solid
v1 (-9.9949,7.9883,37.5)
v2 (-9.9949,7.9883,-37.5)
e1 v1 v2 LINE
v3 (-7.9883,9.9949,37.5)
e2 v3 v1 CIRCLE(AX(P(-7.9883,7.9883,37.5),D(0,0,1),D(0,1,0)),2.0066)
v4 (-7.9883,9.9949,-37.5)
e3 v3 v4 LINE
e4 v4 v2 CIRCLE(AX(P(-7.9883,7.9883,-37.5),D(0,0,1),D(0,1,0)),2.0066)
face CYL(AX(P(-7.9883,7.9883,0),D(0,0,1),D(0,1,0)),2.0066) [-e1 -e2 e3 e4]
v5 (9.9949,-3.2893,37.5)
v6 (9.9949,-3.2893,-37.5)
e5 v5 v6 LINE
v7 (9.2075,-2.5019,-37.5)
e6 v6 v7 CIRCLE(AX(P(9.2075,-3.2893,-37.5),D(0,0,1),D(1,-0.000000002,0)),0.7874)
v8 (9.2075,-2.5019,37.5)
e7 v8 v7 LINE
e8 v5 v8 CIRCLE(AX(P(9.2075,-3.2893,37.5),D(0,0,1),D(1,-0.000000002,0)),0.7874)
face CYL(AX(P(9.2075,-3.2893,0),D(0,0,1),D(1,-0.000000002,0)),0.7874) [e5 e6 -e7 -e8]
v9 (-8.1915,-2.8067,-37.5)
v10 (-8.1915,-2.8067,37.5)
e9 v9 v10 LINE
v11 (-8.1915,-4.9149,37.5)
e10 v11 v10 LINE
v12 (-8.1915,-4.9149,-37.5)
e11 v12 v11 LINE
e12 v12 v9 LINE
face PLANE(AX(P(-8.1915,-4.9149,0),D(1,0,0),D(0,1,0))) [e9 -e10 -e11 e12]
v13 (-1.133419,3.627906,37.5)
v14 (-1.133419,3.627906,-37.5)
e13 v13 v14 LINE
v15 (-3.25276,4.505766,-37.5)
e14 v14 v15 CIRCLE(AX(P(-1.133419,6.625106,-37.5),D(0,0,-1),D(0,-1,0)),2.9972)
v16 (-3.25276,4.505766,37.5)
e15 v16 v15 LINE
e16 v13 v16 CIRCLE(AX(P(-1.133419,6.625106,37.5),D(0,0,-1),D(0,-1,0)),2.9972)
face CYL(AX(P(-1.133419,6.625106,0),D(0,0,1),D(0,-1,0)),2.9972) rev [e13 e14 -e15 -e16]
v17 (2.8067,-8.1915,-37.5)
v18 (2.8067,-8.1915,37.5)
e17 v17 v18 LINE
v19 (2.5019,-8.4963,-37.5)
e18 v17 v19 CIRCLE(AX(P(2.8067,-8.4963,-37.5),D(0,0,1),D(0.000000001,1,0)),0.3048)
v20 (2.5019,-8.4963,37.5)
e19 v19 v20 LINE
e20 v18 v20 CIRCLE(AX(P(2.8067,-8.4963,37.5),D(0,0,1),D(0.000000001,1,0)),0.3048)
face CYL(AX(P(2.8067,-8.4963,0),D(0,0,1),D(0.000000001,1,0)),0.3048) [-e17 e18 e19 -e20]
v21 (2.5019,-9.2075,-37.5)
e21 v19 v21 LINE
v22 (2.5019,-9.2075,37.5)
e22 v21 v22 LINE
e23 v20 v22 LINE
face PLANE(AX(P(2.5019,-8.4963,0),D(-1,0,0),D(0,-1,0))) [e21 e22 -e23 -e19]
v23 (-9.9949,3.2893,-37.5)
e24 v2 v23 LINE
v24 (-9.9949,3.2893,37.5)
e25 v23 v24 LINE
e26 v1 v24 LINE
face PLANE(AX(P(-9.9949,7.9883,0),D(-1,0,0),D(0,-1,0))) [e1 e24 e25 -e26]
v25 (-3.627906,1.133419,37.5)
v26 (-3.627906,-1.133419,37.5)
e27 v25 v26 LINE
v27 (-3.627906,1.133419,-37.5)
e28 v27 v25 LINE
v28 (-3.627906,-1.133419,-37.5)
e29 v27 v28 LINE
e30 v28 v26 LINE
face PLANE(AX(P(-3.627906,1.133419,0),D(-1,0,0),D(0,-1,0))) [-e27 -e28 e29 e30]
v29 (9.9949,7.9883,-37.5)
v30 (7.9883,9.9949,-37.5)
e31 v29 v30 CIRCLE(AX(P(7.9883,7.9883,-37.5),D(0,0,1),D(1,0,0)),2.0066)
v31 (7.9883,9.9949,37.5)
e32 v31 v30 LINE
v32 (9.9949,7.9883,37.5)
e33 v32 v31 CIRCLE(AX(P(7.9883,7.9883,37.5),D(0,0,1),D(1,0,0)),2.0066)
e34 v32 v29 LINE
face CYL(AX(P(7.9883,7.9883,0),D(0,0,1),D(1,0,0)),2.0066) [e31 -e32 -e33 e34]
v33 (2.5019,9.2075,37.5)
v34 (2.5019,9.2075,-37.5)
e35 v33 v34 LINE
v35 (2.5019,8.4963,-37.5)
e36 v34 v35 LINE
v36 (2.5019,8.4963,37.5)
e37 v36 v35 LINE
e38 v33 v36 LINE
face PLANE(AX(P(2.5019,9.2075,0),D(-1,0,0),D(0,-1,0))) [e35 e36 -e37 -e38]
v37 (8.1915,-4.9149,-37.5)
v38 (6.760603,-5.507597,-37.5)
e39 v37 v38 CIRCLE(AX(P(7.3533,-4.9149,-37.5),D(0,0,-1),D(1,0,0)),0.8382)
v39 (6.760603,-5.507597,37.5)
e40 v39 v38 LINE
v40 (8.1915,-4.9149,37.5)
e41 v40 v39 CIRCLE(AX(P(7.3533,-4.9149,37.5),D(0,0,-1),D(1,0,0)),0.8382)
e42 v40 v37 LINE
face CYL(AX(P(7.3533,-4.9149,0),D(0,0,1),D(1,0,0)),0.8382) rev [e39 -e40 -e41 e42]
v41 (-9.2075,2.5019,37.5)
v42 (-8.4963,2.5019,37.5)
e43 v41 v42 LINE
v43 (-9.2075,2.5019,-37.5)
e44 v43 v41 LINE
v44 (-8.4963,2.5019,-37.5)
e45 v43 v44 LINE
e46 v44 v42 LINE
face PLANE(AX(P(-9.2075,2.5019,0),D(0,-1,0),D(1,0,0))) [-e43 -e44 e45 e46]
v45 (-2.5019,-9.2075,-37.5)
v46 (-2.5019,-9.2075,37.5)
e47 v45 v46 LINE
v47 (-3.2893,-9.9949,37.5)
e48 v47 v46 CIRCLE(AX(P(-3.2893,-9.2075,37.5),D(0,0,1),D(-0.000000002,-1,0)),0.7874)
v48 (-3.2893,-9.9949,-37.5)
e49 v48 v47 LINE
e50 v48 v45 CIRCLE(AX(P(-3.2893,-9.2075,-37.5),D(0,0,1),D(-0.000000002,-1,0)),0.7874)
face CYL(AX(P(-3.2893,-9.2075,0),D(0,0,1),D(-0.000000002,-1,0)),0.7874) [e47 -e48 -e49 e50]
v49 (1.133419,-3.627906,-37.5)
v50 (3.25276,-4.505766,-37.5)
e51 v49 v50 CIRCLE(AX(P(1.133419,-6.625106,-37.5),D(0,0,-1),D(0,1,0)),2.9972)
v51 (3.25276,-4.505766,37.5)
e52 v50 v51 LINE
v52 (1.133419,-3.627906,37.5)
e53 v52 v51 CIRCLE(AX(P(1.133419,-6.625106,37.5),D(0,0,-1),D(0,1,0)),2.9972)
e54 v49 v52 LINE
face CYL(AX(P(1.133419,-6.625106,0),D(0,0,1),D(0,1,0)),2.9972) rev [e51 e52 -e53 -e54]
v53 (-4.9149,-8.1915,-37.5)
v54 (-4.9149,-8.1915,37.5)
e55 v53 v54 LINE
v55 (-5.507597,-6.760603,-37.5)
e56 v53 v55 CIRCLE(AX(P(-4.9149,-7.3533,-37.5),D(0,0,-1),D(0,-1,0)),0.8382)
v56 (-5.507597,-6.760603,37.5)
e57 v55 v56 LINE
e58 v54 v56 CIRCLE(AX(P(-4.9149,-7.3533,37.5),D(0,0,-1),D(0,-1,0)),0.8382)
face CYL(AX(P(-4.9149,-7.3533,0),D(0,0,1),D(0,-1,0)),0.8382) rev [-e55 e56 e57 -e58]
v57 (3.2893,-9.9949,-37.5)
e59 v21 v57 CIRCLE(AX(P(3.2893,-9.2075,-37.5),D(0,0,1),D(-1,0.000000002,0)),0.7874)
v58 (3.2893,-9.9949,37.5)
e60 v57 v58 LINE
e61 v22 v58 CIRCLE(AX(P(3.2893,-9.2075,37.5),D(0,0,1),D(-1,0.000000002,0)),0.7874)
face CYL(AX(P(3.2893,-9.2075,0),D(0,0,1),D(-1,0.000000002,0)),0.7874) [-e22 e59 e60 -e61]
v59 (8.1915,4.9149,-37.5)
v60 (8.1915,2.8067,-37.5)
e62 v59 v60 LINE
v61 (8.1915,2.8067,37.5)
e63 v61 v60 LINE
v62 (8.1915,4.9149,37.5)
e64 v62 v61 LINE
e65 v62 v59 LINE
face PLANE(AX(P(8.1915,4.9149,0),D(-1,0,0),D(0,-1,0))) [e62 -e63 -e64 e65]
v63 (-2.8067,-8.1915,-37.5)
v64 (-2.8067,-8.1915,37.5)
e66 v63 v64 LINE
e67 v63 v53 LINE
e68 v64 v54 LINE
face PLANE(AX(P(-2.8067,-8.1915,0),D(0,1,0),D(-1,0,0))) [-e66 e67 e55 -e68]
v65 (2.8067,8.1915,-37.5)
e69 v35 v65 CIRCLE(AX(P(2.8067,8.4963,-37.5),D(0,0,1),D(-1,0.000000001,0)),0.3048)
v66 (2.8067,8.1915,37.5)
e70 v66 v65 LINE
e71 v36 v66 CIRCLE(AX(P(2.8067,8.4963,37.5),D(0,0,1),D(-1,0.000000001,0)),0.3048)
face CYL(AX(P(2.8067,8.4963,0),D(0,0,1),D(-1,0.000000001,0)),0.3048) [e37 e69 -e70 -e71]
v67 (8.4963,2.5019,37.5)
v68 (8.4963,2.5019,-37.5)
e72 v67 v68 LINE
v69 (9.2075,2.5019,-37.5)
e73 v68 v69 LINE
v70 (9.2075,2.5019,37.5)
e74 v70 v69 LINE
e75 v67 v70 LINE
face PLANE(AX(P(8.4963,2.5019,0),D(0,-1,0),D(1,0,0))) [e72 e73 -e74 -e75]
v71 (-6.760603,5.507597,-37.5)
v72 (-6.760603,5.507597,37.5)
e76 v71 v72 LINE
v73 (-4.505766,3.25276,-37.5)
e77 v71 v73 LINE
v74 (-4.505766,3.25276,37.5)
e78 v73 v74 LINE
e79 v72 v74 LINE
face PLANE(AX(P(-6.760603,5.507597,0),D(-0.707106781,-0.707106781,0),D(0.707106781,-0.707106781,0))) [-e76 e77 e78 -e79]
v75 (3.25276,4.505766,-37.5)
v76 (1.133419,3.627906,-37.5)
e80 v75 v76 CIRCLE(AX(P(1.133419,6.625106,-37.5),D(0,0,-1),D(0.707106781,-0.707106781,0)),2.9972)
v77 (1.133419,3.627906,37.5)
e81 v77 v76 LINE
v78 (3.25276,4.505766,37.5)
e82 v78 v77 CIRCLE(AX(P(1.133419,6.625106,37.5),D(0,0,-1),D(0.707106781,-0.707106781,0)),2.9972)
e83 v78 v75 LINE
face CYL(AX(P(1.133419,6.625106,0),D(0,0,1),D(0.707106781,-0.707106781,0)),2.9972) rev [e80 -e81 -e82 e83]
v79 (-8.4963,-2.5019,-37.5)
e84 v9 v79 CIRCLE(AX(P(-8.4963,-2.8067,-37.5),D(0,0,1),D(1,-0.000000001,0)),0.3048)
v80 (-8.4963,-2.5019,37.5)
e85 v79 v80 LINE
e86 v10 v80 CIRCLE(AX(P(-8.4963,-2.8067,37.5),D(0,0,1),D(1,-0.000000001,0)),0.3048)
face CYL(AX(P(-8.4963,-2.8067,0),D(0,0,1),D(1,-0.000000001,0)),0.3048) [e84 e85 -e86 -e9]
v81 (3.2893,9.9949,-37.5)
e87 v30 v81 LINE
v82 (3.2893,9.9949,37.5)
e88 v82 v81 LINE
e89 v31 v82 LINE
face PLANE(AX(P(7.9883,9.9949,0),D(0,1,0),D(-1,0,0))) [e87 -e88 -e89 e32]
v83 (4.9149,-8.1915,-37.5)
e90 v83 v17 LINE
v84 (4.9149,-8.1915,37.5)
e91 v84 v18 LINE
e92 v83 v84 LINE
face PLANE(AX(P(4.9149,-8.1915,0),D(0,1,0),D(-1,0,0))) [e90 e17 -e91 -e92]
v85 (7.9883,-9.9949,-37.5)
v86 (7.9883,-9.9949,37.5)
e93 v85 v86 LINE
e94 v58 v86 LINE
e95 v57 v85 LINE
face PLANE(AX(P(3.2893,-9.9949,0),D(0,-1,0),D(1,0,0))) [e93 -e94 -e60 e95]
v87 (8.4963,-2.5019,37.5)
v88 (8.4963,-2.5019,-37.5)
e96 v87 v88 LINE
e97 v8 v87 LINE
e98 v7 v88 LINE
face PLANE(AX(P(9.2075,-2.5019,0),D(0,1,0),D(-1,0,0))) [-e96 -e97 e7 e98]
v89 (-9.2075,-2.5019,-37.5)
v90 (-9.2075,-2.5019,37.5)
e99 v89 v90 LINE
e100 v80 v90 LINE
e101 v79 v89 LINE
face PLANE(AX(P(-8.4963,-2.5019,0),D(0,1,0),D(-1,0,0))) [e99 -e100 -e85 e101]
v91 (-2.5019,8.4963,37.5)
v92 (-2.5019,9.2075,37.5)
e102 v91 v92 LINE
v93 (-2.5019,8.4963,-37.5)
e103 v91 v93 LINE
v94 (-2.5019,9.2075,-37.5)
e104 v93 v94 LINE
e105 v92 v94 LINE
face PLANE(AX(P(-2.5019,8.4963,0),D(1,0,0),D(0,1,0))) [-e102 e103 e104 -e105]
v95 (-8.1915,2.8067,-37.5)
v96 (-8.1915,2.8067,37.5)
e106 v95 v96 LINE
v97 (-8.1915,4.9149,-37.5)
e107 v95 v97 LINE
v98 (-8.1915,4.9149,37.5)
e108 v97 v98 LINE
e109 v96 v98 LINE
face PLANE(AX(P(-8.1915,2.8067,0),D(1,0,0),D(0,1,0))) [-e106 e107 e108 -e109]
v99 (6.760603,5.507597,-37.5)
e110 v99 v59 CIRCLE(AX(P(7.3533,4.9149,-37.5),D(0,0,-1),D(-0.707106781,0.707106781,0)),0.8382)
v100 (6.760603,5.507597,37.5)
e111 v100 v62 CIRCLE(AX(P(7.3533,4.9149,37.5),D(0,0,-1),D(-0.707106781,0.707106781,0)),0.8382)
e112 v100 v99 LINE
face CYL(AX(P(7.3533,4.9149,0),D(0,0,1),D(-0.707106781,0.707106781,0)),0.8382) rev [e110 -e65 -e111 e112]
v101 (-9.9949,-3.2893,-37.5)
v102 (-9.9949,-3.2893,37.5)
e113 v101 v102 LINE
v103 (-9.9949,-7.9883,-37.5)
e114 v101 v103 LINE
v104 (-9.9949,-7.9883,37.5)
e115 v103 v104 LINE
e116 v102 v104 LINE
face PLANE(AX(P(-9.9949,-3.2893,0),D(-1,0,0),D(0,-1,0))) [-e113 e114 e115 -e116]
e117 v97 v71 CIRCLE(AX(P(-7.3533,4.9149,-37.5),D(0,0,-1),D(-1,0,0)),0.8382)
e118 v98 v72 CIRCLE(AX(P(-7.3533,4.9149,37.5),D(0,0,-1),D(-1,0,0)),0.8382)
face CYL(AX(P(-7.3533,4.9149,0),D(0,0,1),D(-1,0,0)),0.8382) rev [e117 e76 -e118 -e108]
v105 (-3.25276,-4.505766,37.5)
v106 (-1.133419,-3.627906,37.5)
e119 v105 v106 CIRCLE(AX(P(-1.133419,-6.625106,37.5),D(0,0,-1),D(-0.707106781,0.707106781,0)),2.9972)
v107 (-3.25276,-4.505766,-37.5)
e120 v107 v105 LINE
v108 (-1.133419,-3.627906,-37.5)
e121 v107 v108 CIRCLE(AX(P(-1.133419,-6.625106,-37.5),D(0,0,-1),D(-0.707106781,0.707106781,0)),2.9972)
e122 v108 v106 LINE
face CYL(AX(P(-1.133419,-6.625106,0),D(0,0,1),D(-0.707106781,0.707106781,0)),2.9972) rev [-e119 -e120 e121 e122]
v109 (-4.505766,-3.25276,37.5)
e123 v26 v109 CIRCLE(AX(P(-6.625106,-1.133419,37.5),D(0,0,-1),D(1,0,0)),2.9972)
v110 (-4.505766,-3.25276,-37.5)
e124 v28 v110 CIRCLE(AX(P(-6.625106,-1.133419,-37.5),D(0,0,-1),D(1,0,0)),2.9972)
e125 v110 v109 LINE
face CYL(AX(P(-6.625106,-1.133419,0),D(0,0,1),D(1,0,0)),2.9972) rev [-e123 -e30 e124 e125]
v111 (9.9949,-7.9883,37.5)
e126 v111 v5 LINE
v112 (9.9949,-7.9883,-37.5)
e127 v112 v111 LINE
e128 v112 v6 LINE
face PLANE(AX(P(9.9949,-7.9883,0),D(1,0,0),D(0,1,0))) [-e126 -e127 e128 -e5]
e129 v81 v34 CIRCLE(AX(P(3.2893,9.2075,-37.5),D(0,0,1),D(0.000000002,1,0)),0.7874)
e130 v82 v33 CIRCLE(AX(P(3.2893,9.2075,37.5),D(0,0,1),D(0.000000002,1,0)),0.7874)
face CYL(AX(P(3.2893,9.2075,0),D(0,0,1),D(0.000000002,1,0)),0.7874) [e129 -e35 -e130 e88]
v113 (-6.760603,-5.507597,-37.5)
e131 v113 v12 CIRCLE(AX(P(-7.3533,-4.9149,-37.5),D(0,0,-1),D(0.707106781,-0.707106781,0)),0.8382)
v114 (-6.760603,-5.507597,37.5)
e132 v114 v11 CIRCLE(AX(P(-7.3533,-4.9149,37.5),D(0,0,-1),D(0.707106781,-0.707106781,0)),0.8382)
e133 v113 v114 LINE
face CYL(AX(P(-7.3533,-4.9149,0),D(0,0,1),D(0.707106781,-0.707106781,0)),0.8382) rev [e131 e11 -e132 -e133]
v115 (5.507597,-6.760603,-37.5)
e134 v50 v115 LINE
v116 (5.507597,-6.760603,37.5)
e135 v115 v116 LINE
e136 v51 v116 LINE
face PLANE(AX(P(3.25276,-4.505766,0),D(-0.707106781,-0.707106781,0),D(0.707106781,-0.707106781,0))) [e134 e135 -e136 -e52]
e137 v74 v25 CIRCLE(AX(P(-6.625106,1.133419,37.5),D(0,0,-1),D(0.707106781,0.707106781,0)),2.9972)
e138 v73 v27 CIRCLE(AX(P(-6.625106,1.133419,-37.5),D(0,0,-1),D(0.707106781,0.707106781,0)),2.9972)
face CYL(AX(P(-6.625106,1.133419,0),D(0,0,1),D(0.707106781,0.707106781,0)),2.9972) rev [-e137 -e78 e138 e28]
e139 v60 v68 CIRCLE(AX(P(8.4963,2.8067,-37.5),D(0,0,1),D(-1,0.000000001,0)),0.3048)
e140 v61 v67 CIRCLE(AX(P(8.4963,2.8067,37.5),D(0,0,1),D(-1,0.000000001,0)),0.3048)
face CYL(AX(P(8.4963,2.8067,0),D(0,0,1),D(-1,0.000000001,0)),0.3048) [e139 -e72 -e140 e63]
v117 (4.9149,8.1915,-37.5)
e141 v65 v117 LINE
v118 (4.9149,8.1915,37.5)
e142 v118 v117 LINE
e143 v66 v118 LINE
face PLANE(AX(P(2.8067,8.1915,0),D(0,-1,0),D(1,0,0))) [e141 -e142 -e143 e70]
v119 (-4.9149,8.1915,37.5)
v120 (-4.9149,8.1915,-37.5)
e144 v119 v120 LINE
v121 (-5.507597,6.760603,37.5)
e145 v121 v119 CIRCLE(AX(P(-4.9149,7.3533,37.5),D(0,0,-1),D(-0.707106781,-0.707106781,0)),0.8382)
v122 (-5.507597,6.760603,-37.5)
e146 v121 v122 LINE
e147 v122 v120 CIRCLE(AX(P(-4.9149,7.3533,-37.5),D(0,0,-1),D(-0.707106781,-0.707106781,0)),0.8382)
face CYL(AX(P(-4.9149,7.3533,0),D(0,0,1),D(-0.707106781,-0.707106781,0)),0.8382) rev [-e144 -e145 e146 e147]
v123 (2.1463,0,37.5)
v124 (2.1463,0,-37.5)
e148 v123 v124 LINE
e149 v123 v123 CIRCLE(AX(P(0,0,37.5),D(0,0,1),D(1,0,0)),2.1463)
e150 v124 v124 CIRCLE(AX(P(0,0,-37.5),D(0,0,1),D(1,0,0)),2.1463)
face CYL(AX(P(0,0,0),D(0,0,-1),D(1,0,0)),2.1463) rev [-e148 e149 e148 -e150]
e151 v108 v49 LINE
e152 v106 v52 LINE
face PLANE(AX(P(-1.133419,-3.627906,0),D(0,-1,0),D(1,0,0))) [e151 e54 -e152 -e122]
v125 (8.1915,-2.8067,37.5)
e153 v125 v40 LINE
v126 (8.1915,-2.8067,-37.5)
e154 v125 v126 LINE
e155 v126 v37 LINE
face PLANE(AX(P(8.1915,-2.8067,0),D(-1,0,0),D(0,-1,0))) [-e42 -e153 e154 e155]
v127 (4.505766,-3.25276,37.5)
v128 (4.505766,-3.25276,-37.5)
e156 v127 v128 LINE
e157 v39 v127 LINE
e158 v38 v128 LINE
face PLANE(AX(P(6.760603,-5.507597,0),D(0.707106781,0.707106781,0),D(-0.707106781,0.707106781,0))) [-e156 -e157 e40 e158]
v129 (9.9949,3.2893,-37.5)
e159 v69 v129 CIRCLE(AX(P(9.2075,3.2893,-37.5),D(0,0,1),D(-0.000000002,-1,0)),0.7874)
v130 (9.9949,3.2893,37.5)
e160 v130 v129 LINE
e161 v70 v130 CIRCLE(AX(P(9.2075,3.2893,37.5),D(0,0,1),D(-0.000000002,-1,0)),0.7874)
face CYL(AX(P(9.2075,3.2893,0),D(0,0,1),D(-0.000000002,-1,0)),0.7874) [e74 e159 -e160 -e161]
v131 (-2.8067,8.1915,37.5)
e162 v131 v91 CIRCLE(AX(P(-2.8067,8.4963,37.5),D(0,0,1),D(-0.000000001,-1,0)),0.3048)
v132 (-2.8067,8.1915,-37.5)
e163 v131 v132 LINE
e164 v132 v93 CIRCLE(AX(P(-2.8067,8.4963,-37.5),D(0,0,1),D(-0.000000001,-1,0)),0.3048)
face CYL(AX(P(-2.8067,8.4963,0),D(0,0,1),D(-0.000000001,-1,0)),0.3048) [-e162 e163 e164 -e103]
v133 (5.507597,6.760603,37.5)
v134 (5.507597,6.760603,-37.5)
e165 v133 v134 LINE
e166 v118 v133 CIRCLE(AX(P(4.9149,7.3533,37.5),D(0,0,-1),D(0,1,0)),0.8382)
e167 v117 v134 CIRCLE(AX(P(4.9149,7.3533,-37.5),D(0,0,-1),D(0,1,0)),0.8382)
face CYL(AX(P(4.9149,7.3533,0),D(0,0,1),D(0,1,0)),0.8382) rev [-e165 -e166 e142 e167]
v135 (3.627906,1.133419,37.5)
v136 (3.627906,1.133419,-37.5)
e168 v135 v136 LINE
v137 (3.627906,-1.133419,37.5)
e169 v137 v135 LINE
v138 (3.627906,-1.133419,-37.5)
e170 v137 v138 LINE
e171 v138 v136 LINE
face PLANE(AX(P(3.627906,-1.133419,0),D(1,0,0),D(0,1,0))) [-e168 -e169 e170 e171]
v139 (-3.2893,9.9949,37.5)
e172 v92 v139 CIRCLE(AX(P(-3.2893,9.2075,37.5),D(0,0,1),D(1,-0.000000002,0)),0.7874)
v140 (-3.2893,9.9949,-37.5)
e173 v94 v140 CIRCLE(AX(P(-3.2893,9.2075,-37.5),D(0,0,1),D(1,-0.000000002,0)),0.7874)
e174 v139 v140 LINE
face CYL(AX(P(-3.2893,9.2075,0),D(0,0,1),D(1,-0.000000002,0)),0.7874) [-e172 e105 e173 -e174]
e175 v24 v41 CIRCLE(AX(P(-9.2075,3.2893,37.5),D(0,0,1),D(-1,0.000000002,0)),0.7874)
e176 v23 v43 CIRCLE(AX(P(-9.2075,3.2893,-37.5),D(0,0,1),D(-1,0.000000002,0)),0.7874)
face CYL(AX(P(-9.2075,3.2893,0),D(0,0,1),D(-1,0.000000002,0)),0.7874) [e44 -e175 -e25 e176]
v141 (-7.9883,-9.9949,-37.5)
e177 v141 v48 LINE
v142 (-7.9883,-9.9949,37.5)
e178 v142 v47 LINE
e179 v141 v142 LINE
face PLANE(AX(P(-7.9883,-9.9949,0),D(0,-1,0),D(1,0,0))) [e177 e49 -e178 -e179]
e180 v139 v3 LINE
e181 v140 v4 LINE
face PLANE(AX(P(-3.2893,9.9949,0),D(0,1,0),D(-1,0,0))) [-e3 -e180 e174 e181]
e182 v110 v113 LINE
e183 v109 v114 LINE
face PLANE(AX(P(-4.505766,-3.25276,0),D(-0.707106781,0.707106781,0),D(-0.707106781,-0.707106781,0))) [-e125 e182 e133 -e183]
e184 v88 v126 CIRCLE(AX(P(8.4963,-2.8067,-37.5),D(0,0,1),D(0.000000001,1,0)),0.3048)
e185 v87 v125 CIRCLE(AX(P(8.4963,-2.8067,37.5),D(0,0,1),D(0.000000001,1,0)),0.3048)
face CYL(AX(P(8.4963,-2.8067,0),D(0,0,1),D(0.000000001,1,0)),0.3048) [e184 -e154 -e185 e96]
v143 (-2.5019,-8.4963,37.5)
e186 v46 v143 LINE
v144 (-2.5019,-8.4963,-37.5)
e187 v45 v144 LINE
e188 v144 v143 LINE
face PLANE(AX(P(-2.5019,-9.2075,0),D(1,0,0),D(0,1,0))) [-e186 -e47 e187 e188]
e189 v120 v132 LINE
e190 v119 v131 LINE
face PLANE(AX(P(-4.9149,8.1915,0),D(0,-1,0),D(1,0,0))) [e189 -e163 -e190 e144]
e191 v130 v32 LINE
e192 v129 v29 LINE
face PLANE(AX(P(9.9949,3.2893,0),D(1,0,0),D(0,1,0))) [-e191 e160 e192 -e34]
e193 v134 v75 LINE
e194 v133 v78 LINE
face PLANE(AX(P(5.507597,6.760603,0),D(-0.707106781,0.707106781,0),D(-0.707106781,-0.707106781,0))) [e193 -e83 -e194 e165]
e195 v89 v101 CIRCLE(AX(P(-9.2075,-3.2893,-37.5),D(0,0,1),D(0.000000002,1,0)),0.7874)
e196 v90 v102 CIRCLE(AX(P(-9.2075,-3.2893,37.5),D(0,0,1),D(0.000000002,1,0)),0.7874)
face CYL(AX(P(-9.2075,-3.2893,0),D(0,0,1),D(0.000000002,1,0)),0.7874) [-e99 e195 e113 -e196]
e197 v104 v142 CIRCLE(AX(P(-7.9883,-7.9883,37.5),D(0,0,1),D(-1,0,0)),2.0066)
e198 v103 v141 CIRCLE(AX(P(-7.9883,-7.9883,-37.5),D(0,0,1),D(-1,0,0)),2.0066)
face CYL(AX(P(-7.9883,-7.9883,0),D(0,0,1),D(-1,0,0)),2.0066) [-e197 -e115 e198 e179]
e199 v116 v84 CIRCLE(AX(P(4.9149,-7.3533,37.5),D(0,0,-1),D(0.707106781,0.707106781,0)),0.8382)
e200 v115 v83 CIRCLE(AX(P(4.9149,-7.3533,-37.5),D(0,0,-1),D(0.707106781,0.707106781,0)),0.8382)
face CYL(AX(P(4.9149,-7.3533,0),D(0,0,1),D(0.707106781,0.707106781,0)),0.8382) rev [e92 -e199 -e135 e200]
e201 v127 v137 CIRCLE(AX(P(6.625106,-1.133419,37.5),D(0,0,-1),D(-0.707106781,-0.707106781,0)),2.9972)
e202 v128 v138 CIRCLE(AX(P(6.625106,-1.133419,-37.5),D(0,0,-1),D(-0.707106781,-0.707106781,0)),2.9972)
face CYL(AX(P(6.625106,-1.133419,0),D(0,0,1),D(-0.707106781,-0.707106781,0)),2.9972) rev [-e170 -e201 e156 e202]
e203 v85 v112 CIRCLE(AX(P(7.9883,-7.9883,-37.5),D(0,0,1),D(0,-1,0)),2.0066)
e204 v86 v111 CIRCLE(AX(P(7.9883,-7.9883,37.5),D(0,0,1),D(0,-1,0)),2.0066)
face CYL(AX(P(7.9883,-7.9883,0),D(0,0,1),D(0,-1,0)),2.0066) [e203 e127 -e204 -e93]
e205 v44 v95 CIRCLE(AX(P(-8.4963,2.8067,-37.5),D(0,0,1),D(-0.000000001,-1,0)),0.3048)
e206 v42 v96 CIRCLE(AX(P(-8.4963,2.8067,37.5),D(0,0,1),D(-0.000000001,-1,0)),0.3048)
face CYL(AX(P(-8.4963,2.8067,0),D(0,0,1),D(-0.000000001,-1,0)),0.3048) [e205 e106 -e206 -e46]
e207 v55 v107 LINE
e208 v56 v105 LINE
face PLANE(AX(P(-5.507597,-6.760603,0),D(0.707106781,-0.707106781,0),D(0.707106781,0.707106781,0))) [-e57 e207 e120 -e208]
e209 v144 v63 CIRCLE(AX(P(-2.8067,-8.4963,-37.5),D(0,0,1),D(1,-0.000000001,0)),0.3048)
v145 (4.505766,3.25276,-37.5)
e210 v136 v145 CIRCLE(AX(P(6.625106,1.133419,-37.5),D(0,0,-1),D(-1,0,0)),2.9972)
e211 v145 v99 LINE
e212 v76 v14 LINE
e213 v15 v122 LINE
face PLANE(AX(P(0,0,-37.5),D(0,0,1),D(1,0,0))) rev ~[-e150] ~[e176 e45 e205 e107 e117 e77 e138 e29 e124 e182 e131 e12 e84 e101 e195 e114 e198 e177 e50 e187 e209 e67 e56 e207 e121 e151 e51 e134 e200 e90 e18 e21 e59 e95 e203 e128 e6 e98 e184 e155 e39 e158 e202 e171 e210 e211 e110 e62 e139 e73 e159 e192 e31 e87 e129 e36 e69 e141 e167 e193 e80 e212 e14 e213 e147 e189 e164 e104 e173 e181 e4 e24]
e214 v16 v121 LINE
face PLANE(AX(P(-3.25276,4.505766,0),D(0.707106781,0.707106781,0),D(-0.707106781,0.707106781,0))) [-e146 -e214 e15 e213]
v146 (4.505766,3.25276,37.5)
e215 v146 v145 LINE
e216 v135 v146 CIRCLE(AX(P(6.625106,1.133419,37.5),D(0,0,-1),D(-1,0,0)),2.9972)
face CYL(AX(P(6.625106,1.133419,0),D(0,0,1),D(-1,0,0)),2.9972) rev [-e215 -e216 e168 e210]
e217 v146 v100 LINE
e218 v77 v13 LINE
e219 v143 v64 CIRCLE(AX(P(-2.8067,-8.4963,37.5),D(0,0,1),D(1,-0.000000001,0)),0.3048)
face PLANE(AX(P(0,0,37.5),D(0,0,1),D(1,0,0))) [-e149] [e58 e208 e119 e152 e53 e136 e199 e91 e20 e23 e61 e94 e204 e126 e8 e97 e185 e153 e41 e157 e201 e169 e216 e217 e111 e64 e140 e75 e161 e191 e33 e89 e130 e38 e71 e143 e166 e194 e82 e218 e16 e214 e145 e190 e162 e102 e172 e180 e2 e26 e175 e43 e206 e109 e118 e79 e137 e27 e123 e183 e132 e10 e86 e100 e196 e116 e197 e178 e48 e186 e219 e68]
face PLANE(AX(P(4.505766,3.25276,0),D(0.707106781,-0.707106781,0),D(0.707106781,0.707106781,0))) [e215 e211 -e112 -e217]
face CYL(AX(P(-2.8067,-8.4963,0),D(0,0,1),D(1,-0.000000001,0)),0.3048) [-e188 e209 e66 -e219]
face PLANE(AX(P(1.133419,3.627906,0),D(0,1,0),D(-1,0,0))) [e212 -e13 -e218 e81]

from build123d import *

# Parameters (mm, degrees)
SKETCH1_R           = 2.1463
BOSS_EXTRUDE1_DEPTH = 37.5


with BuildPart() as part:
    # Sketch1 → Boss-Extrude1 (new, symmetric)
    with BuildSketch(Plane.XY):
        with BuildLine():
            Line((-9.9949, 7.9883), (-9.9949, 3.2893))
            ThreePointArc((-9.9949, 3.2893), (-9.76427588, 2.73252412), (-9.2075, 2.5019))
            Line((-9.2075, 2.5019), (-8.4963, 2.5019))
            ThreePointArc((-8.4963, 2.5019), (-8.280773853, 2.591173853), (-8.1915, 2.8067))
            Line((-8.1915, 2.8067), (-8.1915, 4.9149))
            ThreePointArc((-8.1915, 4.9149), (-7.674065253, 5.689295824), (-6.760603096, 5.507596904))
            Line((-6.760603096, 5.507596904), (-4.505765747, 3.252759555))
            ThreePointArc((-4.505765747, 3.252759555), (-3.856054457, 2.280397894), (-3.627906192, 1.133419111))
            Line((-3.627906192, 1.133419111), (-3.627906192, -1.133419111))
            ThreePointArc((-3.627906192, -1.133419111), (-3.856054457, -2.280397894), (-4.505765747, -3.252759555))
            Line((-4.505765747, -3.252759555), (-6.760603096, -5.507596904))
            ThreePointArc((-6.760603096, -5.507596904), (-7.674065253, -5.689295824), (-8.1915, -4.9149))
            Line((-8.1915, -4.9149), (-8.1915, -2.8067))
            ThreePointArc((-8.1915, -2.8067), (-8.280773853, -2.591173853), (-8.4963, -2.5019))
            Line((-8.4963, -2.5019), (-9.2075, -2.5019))
            ThreePointArc((-9.2075, -2.5019), (-9.76427588, -2.73252412), (-9.9949, -3.2893))
            Line((-9.9949, -3.2893), (-9.9949, -7.9883))
            ThreePointArc((-9.9949, -7.9883), (-9.407180467, -9.407180467), (-7.9883, -9.9949))
            Line((-7.9883, -9.9949), (-3.2893, -9.9949))
            ThreePointArc((-3.2893, -9.9949), (-2.73252412, -9.76427588), (-2.5019, -9.2075))
            Line((-2.5019, -9.2075), (-2.5019, -8.4963))
            ThreePointArc((-2.5019, -8.4963), (-2.591173853, -8.280773853), (-2.8067, -8.1915))
            Line((-2.8067, -8.1915), (-4.9149, -8.1915))
            ThreePointArc((-4.9149, -8.1915), (-5.689295824, -7.674065253), (-5.507596904, -6.760603096))
            Line((-5.507596904, -6.760603096), (-3.252759555, -4.505765747))
            ThreePointArc((-3.252759555, -4.505765747), (-2.280397894, -3.856054457), (-1.133419111, -3.627906192))
            Line((-1.133419111, -3.627906192), (1.133419111, -3.627906192))
            ThreePointArc((1.133419111, -3.627906192), (2.280397894, -3.856054457), (3.252759555, -4.505765747))
            Line((3.252759555, -4.505765747), (5.507596904, -6.760603096))
            ThreePointArc((5.507596904, -6.760603096), (5.689295824, -7.674065253), (4.9149, -8.1915))
            Line((4.9149, -8.1915), (2.8067, -8.1915))
            ThreePointArc((2.8067, -8.1915), (2.591173853, -8.280773853), (2.5019, -8.4963))
            Line((2.5019, -8.4963), (2.5019, -9.2075))
            ThreePointArc((2.5019, -9.2075), (2.73252412, -9.76427588), (3.2893, -9.9949))
            Line((3.2893, -9.9949), (7.9883, -9.9949))
            ThreePointArc((7.9883, -9.9949), (9.407180467, -9.407180467), (9.9949, -7.9883))
            Line((9.9949, -7.9883), (9.9949, -3.2893))
            ThreePointArc((9.9949, -3.2893), (9.76427588, -2.73252412), (9.2075, -2.5019))
            Line((9.2075, -2.5019), (8.4963, -2.5019))
            ThreePointArc((8.4963, -2.5019), (8.280773853, -2.591173853), (8.1915, -2.8067))
            Line((8.1915, -2.8067), (8.1915, -4.9149))
            ThreePointArc((8.1915, -4.9149), (7.674065253, -5.689295824), (6.760603096, -5.507596904))
            Line((6.760603096, -5.507596904), (4.505765747, -3.252759555))
            ThreePointArc((4.505765747, -3.252759555), (3.856054457, -2.280397894), (3.627906192, -1.133419111))
            Line((3.627906192, -1.133419111), (3.627906192, 1.133419111))
            ThreePointArc((3.627906192, 1.133419111), (3.856054457, 2.280397894), (4.505765747, 3.252759555))
            Line((4.505765747, 3.252759555), (6.760603096, 5.507596904))
            ThreePointArc((6.760603096, 5.507596904), (7.674065253, 5.689295824), (8.1915, 4.9149))
            Line((8.1915, 4.9149), (8.1915, 2.8067))
            ThreePointArc((8.1915, 2.8067), (8.280773853, 2.591173853), (8.4963, 2.5019))
            Line((8.4963, 2.5019), (9.2075, 2.5019))
            ThreePointArc((9.2075, 2.5019), (9.76427588, 2.73252412), (9.9949, 3.2893))
            Line((9.9949, 3.2893), (9.9949, 7.9883))
            ThreePointArc((9.9949, 7.9883), (9.407180467, 9.407180467), (7.9883, 9.9949))
            Line((7.9883, 9.9949), (3.2893, 9.9949))
            ThreePointArc((3.2893, 9.9949), (2.73252412, 9.76427588), (2.5019, 9.2075))
            Line((2.5019, 9.2075), (2.5019, 8.4963))
            ThreePointArc((2.5019, 8.4963), (2.591173853, 8.280773853), (2.8067, 8.1915))
            Line((2.8067, 8.1915), (4.9149, 8.1915))
            ThreePointArc((4.9149, 8.1915), (5.689295824, 7.674065253), (5.507596904, 6.760603096))
            Line((5.507596904, 6.760603096), (3.252759555, 4.505765747))
            ThreePointArc((3.252759555, 4.505765747), (2.280397894, 3.856054457), (1.133419111, 3.627906192))
            Line((1.133419111, 3.627906192), (-1.133419111, 3.627906192))
            ThreePointArc((-1.133419111, 3.627906192), (-2.280397894, 3.856054457), (-3.252759555, 4.505765747))
            Line((-3.252759555, 4.505765747), (-5.507596904, 6.760603096))
            ThreePointArc((-5.507596904, 6.760603096), (-5.689295824, 7.674065253), (-4.9149, 8.1915))
            Line((-4.9149, 8.1915), (-2.8067, 8.1915))
            ThreePointArc((-2.8067, 8.1915), (-2.591173853, 8.280773853), (-2.5019, 8.4963))
            Line((-2.5019, 8.4963), (-2.5019, 9.2075))
            ThreePointArc((-2.5019, 9.2075), (-2.73252412, 9.76427588), (-3.2893, 9.9949))
            Line((-3.2893, 9.9949), (-7.9883, 9.9949))
            ThreePointArc((-7.9883, 9.9949), (-9.407180467, 9.407180467), (-9.9949, 7.9883))
        make_face()
        Circle(SKETCH1_R, mode=Mode.SUBTRACT)
    extrude(amount=BOSS_EXTRUDE1_DEPTH, both=True)


solid = part.part
